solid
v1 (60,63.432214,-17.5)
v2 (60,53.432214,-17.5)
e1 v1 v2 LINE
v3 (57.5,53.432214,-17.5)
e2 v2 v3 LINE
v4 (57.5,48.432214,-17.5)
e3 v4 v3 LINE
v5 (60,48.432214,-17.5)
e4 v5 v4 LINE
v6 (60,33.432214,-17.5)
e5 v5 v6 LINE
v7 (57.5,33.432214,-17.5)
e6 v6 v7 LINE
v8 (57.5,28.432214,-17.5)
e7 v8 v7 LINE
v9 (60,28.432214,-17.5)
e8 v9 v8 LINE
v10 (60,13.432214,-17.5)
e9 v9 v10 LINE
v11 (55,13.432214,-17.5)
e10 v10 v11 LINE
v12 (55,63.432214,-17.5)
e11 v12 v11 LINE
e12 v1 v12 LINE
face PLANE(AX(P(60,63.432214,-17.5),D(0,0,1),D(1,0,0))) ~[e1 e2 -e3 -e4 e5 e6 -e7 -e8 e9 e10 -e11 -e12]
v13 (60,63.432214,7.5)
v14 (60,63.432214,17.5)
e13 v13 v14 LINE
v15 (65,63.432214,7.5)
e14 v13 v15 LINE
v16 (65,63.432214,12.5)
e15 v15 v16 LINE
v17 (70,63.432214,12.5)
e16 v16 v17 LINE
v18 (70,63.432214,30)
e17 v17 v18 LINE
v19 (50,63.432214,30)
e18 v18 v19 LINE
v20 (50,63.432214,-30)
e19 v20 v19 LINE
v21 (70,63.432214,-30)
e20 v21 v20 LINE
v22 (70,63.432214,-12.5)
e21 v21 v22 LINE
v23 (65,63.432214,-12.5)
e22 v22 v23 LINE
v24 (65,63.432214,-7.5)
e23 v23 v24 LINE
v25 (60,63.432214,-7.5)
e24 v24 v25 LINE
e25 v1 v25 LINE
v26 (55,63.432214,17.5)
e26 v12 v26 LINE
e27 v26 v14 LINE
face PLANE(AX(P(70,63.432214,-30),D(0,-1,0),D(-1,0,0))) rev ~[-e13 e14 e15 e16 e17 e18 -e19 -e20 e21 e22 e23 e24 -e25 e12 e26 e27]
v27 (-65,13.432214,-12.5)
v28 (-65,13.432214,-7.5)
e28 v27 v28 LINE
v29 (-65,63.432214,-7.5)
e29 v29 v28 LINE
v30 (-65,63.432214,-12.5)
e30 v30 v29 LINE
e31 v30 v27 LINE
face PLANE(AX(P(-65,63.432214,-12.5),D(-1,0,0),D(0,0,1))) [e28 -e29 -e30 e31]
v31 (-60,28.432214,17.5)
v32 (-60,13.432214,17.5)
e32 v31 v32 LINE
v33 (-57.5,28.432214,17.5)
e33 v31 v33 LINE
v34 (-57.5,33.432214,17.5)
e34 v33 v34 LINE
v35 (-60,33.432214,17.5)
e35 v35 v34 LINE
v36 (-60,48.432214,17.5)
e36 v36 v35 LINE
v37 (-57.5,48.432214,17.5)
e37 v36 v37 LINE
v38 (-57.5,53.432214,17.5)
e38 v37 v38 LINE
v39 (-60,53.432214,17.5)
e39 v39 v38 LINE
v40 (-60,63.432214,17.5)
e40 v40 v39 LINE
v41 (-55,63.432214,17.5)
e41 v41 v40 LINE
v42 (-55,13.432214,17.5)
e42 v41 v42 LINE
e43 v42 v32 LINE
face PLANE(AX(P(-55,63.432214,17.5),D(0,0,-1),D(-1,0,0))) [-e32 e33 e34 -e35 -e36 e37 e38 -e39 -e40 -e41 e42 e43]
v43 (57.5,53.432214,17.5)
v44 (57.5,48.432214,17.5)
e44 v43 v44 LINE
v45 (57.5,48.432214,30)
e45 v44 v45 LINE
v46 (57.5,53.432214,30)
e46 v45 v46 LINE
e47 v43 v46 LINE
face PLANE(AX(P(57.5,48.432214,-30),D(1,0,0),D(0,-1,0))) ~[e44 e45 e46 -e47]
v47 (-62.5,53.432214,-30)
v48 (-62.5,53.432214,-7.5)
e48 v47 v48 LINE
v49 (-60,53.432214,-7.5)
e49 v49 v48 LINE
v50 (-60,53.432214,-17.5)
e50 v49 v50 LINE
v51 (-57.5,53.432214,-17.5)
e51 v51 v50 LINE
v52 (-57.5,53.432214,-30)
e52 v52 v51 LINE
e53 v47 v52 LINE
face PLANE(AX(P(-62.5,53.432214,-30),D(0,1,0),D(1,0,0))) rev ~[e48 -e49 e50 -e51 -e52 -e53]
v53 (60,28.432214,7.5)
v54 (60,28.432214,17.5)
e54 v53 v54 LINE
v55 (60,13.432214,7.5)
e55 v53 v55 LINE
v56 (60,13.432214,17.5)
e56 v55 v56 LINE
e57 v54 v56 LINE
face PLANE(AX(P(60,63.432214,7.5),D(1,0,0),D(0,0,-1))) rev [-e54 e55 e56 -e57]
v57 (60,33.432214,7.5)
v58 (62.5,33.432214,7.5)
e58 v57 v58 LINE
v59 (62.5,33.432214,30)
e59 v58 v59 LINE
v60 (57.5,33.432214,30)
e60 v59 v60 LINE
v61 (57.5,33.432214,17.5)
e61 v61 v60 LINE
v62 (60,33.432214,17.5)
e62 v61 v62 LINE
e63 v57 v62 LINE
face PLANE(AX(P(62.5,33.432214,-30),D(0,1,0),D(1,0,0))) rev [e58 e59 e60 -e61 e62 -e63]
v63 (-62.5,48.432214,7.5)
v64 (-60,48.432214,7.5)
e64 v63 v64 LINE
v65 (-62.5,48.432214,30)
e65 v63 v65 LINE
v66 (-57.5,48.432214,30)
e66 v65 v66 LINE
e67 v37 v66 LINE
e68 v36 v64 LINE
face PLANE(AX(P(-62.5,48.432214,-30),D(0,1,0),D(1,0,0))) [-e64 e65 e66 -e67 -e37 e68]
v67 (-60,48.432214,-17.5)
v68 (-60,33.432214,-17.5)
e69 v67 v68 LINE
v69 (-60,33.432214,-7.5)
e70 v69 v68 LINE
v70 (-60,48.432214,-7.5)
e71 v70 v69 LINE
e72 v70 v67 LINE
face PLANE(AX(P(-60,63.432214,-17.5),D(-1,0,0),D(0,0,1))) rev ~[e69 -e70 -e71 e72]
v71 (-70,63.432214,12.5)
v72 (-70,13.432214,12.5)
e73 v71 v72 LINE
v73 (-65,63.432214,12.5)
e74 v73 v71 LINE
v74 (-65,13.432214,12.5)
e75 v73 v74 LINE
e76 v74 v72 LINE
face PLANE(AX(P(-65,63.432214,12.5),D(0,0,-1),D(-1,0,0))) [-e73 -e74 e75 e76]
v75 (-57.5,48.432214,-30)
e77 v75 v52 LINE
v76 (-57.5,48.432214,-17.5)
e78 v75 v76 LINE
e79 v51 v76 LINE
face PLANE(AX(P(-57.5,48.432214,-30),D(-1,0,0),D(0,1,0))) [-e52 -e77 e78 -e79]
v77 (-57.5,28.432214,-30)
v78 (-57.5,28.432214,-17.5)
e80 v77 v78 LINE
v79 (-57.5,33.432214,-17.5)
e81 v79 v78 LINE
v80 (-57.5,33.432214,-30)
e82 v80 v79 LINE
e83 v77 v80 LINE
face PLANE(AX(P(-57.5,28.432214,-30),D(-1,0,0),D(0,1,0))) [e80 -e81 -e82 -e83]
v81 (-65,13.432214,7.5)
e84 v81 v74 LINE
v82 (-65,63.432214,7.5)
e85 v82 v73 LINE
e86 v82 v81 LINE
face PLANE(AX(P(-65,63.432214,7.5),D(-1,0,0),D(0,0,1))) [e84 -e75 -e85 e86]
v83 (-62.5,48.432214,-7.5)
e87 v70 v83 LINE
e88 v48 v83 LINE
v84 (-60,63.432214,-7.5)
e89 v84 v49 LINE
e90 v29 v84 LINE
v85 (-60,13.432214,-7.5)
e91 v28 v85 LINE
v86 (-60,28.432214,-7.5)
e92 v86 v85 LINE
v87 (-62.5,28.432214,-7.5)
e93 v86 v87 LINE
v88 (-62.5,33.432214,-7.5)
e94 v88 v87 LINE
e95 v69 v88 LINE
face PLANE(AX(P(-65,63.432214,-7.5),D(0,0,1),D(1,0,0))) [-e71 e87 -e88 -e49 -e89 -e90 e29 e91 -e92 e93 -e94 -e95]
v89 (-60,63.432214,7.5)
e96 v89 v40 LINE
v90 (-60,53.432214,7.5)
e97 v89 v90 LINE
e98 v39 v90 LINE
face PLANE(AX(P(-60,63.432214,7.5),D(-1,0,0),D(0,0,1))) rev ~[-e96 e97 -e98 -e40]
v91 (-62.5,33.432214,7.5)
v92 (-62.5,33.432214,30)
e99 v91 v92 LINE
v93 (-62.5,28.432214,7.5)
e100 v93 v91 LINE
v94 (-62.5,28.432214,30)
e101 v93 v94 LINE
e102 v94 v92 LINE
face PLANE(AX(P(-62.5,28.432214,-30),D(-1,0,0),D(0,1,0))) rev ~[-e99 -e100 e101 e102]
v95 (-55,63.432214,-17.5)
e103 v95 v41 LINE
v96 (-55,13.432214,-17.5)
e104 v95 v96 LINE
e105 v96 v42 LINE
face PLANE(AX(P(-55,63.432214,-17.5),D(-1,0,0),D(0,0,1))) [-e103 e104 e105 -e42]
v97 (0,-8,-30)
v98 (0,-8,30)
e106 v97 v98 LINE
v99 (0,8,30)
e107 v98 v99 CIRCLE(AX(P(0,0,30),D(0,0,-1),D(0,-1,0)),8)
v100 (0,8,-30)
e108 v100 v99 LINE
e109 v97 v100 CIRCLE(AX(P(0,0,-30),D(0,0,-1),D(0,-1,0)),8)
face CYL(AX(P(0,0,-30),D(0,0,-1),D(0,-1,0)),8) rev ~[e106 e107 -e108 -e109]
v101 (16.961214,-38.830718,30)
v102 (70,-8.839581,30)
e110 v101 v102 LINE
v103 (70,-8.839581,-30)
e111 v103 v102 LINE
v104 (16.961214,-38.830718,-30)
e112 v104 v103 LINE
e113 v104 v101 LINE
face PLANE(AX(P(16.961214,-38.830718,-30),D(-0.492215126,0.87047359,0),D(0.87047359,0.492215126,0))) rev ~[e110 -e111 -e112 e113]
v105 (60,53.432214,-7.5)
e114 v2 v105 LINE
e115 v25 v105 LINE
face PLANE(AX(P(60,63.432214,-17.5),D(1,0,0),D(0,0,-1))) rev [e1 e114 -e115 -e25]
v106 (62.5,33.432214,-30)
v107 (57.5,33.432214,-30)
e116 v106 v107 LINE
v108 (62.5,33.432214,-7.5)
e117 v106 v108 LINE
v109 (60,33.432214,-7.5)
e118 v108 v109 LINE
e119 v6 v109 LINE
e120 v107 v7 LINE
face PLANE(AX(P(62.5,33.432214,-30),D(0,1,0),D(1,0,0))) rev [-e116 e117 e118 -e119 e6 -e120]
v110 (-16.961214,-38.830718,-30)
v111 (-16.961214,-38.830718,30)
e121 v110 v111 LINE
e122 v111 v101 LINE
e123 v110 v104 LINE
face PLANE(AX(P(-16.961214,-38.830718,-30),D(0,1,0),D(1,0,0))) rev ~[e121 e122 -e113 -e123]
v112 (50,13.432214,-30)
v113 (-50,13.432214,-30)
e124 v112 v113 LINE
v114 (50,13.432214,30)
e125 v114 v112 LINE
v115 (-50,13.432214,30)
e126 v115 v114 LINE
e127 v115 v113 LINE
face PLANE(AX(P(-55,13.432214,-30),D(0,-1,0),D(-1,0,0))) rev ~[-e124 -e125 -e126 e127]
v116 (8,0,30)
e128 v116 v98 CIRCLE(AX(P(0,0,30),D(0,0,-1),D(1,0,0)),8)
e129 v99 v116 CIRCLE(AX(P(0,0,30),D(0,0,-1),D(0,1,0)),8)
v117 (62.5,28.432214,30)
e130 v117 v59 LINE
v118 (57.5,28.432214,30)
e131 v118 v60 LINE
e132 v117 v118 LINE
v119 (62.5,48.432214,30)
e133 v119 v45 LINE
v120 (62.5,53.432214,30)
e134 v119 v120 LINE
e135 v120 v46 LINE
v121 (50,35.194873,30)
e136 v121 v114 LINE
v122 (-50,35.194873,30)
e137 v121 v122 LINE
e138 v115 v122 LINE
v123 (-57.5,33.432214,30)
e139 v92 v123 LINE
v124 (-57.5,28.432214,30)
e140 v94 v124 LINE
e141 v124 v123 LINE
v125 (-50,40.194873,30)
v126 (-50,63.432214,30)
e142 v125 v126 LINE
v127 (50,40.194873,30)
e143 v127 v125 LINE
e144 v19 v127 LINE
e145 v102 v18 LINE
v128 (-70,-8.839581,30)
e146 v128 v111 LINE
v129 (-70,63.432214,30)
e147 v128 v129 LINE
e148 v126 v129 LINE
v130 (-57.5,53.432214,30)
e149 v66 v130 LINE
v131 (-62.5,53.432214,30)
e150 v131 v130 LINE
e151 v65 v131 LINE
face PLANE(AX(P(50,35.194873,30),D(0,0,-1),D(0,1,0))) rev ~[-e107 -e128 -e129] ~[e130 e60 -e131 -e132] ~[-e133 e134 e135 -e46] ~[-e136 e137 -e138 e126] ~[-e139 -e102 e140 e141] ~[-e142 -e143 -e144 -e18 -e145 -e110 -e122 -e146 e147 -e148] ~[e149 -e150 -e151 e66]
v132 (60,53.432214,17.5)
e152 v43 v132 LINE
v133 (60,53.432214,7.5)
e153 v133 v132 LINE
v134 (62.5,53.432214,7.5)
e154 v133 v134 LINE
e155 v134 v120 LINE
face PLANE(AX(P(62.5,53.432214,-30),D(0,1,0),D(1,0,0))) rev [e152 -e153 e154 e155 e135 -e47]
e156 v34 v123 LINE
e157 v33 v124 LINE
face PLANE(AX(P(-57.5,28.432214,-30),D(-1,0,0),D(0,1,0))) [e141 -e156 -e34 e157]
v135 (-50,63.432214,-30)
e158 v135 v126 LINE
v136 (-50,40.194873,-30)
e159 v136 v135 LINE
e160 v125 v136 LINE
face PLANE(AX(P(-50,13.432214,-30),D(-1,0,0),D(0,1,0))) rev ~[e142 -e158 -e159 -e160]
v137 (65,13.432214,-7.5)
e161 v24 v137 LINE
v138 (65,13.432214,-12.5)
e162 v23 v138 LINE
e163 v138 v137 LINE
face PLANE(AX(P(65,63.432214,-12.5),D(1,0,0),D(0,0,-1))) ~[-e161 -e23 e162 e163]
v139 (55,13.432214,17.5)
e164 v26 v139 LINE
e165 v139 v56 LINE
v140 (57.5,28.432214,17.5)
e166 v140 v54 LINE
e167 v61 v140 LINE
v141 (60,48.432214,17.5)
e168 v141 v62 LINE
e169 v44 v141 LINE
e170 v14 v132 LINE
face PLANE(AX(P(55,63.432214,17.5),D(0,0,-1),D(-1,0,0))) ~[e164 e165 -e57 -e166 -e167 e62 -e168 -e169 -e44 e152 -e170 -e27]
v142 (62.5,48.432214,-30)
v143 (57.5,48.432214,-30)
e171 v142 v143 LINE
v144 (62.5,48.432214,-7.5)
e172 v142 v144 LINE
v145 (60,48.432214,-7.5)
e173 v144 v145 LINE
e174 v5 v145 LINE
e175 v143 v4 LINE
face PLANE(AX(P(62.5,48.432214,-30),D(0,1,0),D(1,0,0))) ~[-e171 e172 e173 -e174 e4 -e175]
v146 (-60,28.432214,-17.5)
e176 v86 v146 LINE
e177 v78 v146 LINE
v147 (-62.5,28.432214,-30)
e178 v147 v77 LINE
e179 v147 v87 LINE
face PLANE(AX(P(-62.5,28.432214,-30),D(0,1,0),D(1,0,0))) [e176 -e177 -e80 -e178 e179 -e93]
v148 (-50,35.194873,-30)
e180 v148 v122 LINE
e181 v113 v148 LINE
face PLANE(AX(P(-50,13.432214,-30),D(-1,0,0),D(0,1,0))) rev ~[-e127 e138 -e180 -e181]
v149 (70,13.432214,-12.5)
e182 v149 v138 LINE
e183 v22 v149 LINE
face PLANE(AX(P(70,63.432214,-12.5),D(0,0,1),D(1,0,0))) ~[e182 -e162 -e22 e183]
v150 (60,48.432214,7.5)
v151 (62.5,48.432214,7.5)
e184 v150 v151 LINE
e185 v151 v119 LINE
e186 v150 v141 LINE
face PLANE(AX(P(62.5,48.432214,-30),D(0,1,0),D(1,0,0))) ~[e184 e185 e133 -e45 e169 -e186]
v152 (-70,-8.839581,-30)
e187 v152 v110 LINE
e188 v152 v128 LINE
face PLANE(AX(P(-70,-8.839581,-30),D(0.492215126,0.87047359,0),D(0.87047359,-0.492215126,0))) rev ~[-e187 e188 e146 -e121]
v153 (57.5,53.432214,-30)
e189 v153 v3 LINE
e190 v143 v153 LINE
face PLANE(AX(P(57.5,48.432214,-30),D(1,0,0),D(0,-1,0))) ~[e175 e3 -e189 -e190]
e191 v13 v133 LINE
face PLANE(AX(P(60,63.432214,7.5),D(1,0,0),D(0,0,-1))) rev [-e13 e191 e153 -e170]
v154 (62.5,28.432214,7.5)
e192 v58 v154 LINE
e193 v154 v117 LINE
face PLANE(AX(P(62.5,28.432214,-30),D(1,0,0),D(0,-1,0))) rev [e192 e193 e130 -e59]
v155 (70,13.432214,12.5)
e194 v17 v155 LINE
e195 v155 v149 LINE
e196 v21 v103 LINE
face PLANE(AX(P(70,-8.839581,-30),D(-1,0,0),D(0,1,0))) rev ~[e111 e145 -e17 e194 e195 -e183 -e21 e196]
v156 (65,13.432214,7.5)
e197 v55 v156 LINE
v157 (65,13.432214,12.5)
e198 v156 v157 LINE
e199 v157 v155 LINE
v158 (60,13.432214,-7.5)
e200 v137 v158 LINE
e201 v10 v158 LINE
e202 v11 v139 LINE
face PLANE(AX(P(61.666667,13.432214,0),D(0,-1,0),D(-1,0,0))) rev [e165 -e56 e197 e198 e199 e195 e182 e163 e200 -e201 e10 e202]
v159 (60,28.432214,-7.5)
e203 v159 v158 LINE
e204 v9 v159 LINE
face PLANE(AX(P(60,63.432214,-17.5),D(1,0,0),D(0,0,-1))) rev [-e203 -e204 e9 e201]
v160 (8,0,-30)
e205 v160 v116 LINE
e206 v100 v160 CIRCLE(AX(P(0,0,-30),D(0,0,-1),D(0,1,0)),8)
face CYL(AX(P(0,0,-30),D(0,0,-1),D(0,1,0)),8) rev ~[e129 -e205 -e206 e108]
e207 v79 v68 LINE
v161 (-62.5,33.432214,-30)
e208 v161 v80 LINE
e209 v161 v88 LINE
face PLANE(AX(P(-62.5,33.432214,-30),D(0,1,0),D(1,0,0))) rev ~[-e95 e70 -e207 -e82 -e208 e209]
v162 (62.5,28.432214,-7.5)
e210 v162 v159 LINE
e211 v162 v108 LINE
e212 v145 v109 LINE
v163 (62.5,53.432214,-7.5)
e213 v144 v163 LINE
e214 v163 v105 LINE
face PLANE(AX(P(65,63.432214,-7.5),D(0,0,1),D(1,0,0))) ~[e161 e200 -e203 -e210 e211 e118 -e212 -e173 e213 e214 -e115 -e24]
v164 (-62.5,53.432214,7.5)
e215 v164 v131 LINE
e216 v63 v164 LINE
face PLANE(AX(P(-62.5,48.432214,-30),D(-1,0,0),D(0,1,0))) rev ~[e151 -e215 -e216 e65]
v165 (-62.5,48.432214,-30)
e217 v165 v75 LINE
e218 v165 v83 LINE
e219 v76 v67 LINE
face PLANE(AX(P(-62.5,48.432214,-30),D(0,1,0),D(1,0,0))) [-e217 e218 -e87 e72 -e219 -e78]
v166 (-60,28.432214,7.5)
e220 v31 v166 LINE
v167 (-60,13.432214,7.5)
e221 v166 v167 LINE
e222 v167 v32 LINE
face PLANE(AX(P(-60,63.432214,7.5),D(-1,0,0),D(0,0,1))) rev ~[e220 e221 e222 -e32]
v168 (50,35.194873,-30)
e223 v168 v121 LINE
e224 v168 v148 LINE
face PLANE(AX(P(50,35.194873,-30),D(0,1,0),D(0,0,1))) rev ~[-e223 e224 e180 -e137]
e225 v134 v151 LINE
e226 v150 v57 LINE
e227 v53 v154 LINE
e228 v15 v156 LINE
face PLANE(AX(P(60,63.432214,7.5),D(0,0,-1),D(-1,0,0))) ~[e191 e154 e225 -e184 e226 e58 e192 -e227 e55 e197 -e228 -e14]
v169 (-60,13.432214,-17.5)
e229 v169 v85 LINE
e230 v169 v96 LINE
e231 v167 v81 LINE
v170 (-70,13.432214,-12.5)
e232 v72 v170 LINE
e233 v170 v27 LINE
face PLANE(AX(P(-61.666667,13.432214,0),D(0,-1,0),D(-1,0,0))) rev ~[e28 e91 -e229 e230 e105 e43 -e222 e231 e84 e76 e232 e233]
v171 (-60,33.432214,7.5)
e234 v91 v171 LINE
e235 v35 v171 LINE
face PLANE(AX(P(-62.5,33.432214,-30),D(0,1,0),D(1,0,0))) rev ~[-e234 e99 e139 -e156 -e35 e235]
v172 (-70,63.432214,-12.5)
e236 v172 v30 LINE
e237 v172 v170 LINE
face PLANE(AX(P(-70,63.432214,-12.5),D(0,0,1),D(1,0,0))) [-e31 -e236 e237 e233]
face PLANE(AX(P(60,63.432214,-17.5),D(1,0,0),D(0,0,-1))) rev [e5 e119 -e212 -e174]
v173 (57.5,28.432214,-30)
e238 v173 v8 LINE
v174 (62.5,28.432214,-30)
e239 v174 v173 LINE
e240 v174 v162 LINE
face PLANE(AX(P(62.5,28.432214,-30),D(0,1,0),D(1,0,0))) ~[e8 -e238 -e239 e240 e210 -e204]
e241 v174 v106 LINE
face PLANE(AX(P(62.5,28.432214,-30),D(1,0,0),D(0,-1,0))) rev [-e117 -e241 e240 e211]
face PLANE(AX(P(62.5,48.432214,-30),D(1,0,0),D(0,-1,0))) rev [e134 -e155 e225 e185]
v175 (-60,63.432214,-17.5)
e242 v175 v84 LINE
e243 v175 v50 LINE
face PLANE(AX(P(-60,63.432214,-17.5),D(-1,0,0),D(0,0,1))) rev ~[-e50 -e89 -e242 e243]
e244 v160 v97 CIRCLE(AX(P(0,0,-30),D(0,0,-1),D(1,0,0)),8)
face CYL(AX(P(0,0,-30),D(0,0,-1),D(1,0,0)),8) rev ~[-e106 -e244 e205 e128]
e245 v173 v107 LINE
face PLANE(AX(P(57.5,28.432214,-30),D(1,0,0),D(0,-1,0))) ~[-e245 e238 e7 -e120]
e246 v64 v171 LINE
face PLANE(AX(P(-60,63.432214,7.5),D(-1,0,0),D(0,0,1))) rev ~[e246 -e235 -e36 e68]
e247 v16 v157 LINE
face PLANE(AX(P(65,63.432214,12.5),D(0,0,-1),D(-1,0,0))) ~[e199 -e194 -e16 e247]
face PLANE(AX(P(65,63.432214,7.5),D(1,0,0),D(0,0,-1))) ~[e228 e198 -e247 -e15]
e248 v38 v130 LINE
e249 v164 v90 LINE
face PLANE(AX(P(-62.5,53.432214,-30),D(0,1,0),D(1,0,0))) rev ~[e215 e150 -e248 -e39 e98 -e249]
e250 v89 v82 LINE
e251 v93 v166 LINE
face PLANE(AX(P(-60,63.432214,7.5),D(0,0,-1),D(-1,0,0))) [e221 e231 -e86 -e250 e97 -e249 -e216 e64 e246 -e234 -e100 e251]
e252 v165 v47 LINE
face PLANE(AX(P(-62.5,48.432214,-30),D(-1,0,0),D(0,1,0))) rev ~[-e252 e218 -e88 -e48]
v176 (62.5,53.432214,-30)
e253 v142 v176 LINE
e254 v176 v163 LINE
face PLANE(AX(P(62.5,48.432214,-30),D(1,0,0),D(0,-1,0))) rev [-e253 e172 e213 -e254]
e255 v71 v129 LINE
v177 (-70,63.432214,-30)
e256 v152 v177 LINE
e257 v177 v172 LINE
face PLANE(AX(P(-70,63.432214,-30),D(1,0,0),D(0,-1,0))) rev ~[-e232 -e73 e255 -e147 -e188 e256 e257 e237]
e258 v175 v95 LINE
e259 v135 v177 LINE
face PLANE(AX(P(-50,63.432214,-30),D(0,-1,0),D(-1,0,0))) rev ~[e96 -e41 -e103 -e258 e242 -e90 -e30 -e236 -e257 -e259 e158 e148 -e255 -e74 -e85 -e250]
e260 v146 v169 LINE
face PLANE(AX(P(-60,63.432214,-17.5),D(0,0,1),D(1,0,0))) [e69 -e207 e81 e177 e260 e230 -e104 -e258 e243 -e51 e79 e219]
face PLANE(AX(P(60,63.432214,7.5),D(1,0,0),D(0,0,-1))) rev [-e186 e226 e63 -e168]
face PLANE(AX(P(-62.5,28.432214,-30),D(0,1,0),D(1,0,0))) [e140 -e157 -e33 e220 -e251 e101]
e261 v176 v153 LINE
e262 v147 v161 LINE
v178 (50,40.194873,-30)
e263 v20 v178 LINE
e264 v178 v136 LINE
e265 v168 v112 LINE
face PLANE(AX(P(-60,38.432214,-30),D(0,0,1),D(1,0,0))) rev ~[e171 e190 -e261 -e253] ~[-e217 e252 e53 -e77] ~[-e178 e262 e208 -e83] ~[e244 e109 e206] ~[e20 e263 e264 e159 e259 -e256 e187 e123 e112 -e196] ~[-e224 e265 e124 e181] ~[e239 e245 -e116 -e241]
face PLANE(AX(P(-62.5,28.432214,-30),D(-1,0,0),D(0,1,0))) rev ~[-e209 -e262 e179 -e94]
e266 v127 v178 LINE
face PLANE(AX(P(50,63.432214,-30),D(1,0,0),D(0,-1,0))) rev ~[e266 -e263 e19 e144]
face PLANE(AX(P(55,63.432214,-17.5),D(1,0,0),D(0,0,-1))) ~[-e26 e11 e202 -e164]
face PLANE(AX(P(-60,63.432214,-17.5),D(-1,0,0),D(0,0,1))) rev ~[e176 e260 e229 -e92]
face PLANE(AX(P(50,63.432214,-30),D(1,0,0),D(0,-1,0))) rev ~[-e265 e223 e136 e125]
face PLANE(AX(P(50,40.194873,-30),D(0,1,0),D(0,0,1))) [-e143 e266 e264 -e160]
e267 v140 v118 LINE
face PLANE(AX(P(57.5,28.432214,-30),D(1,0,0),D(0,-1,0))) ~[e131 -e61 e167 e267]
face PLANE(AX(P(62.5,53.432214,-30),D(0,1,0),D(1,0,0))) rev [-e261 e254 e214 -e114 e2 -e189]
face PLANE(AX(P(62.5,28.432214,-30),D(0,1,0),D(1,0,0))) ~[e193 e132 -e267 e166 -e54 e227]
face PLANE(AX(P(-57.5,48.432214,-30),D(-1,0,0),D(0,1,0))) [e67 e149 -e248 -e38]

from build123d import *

# Parameters (mm, degrees)
BOSS_EXTRUDE2_DEPTH            = 30
BOSS_EXTRUDE2_DEPTH_BACK       = 30
EXTRUDE_THIN2_DEPTH            = 25
EXTRUDE_THIN2_DEPTH_BACK       = 25
SKETCH2_W                      = 60
SKETCH2_H                      = 5
BOSS_EXTRUDE3_DEPTH            = 100
BOSS_EXTRUDE4_DEPTH            = 30
BOSS_EXTRUDE4_DEPTH_BACK       = 30
CUT_EXTRUDE2_REACH             = 143.361
SKETCH4_W                      = 60
SKETCH4_H                      = 5
CUT_EXTRUDE2_DIRECTION_2_REACH = 143.361
BOSS_EXTRUDE5_DEPTH            = 30
BOSS_EXTRUDE5_DEPTH_BACK       = 30
DRONE_ARM_FIT_CUT_DEPTH        = 50
CUT_EXTRUDE3_START             = -60
SKETCH8_W                      = 5
SKETCH8_H                      = 5
CUT_EXTRUDE3_DEPTH             = 60


with BuildPart() as part:
    # Sketch1 → Boss-Extrude2 (new, two sides: drawn at the far end of the back side and taken through both)
    with BuildSketch(Plane.XY.offset(-BOSS_EXTRUDE2_DEPTH_BACK)):
        Polygon((-13.01396445, -23.830717844), (0, -23.830717844), (0, -18.830717844), (-11.698214449, -18.830717844), (-50, 2.827283512), (-50, 13.432214294), (-55, 13.432214294), (-55, -0.089432632), align=None)
        Polygon((0, -18.830717844), (0, -23.830717844), (13.01396445, -23.830717844), (55, -0.089432632), (55, 13.432214294), (50, 13.432214294), (50, 2.827283512), (11.698214449, -18.830717844), align=None)
        with BuildLine():
            Line((-11.698214449, -18.830717844), (0, -18.830717844))
            Line((0, -18.830717844), (0, -8))
            ThreePointArc((0, -8), (-8, 0), (0, 8))
            Line((0, 8), (0, 13.432214294))
            Line((0, 13.432214294), (-50, 13.432214294))
            Line((-50, 13.432214294), (-50, 2.827283512))
            Line((-50, 2.827283512), (-11.698214449, -18.830717844))
        make_face()
        with BuildLine():
            Line((0, -8), (0, -18.830717844))
            Line((0, -18.830717844), (11.698214449, -18.830717844))
            Line((11.698214449, -18.830717844), (50, 2.827283512))
            Line((50, 2.827283512), (50, 13.432214294))
            Line((50, 13.432214294), (0, 13.432214294))
            Line((0, 13.432214294), (0, 8))
            ThreePointArc((0, 8), (5.656854249, 5.656854249), (8, 0))
            ThreePointArc((8, 0), (5.656854249, -5.656854249), (0, -8))
        make_face()
    extrude(amount=BOSS_EXTRUDE2_DEPTH + BOSS_EXTRUDE2_DEPTH_BACK)

    # Sketch1<5> → Extrude-Thin2 (add, two sides: drawn at the far end of the back side and taken through both)
    with BuildSketch(Plane.XY.offset(-EXTRUDE_THIN2_DEPTH_BACK)):
        Polygon((50, 13.432214294), (50, 38.432214294), (50, 63.432214294), (-50, 63.432214294), (-50, 38.432214294), (-50, 13.432214294), (-55, 13.432214294), (-55, 38.432214294), (-55, 68.432214294), (55, 68.432214294), (55, 38.432214294), (55, 13.432214294), align=None)
    extrude(amount=EXTRUDE_THIN2_DEPTH + EXTRUDE_THIN2_DEPTH_BACK)

    # Sketch2 → Boss-Extrude3 (add)
    with BuildSketch(Plane.ZY.offset(-50)):
        with Locations((0, 37.694873029)):
            Rectangle(SKETCH2_W, SKETCH2_H)
    extrude(amount=BOSS_EXTRUDE3_DEPTH)

    # Sketch1<6> → Boss-Extrude4 (add, two sides: drawn at the far end of the back side and taken through both)
    with BuildSketch(Plane.XY.offset(-BOSS_EXTRUDE4_DEPTH_BACK)):
        Polygon((-55, -0.089432632), (-55, 13.432214294), (-70, 13.432214294), (-70, -8.839581066), (-16.961214453, -38.830717844), (16.961214453, -38.830717844), (70, -8.839581066), (70, 13.432214294), (55, 13.432214294), (55, -0.089432632), (13.01396445, -23.830717844), (-13.01396445, -23.830717844), align=None)
    extrude(amount=BOSS_EXTRUDE4_DEPTH + BOSS_EXTRUDE4_DEPTH_BACK)

    # Cut-Extrude2: up to this face of the body (flat: up to its plane)
    cut_extrude2_end = Plane(part.part.faces().sort_by_distance((-55, 40.932214294, 0))[0])
    # Sketch4 → Cut-Extrude2 (cut, up to the picked face)
    with BuildSketch(Plane(origin=(-50, 0, 0), x_dir=(0, 0, -1), z_dir=(1, 0, 0)), mode=Mode.PRIVATE) as cut_extrude2_sk1:
        with Locations((0, 65.932214294)):
            Rectangle(SKETCH4_W, SKETCH4_H)
    cut_extrude2_tool1 = split(extrude(cut_extrude2_sk1.sketch, amount=-CUT_EXTRUDE2_REACH, mode=Mode.PRIVATE), bisect_by=cut_extrude2_end, keep=Keep.BOTH, mode=Mode.PRIVATE)
    add(cut_extrude2_tool1.solids().sort_by(Axis((-50, 65.932214, 0), (-1, 0, 0)))[0], mode=Mode.SUBTRACT)

    # Cut-Extrude2 direction 2: up to this face of the body (flat: up to its plane)
    cut_extrude2_direction_2_end = Plane(part.part.faces().sort_by_distance((55, 40.932214294, 0))[0])
    # Sketch4 → Cut-Extrude2 direction 2 (cut, up to the picked face)
    with BuildSketch(Plane(origin=(-50, 0, 0), x_dir=(0, 0, -1), z_dir=(1, 0, 0)), mode=Mode.PRIVATE) as cut_extrude2_direction_2_sk1:
        with Locations((0, 65.932214294)):
            Rectangle(SKETCH4_W, SKETCH4_H)
    cut_extrude2_direction_2_tool1 = split(extrude(cut_extrude2_direction_2_sk1.sketch, amount=CUT_EXTRUDE2_DIRECTION_2_REACH, mode=Mode.PRIVATE), bisect_by=cut_extrude2_direction_2_end, keep=Keep.BOTH, mode=Mode.PRIVATE)
    add(cut_extrude2_direction_2_tool1.solids().sort_by(Axis((-50, 65.932214, 0), (1, 0, 0)))[0], mode=Mode.SUBTRACT)

    # Sketch1<7> → Boss-Extrude5 (add, two sides: drawn at the far end of the back side and taken through both)
    with BuildSketch(Plane.XY.offset(-BOSS_EXTRUDE5_DEPTH_BACK)):
        Polygon((-70, 13.432214294), (-55, 13.432214294), (-50, 13.432214294), (-50, 38.432214294), (-50, 63.432214294), (-70, 63.432214294), (-70, 38.432214294), align=None)
        Polygon((50, 38.432214294), (50, 13.432214294), (55, 13.432214294), (70, 13.432214294), (70, 38.432214294), (70, 63.432214294), (50, 63.432214294), align=None)
    extrude(amount=BOSS_EXTRUDE5_DEPTH + BOSS_EXTRUDE5_DEPTH_BACK)

    # Sketch7 → Drone Arm fit cut (cut)
    with BuildSketch(Plane(origin=(0, 63.432214294, 0), x_dir=(1, 0, 0), z_dir=(0, 1, 0))):
        Polygon((-70, -12.5), (-70, 12.5), (-65, 12.5), (-65, 7.5), (-60, 7.5), (-60, 12.5), (-60, 17.5), (-55, 17.5), (-55, -17.5), (-60, -17.5), (-60, -12.5), (-60, -7.5), (-65, -7.5), (-65, -12.5), align=None)
    drone_arm_fit_cut = extrude(amount=-DRONE_ARM_FIT_CUT_DEPTH, mode=Mode.SUBTRACT)

    # Mirror Drone arm fit cut: Drone Arm fit cut across plane
    add(drone_arm_fit_cut.mirror(Plane(origin=(0, 0, 0), x_dir=(0, 0, 1), z_dir=(1, 0, 0))), mode=Mode.SUBTRACT)

    # Sketch8 → Cut-Extrude3 (cut)
    with BuildSketch(Plane.XY.offset(30).offset(CUT_EXTRUDE3_START)):
        with Locations((-60, 50.932214294)):
            Rectangle(SKETCH8_W, SKETCH8_H)
        with Locations((-60, 30.932214294)):
            Rectangle(SKETCH8_W, SKETCH8_H)
    cut_extrude3 = extrude(amount=CUT_EXTRUDE3_DEPTH, mode=Mode.SUBTRACT)

    # Mirror1: Cut-Extrude3 across plane
    add(cut_extrude3.mirror(Plane(origin=(0, 0, 0), x_dir=(0, 0, 1), z_dir=(1, 0, 0))), mode=Mode.SUBTRACT)


solid = part.part
